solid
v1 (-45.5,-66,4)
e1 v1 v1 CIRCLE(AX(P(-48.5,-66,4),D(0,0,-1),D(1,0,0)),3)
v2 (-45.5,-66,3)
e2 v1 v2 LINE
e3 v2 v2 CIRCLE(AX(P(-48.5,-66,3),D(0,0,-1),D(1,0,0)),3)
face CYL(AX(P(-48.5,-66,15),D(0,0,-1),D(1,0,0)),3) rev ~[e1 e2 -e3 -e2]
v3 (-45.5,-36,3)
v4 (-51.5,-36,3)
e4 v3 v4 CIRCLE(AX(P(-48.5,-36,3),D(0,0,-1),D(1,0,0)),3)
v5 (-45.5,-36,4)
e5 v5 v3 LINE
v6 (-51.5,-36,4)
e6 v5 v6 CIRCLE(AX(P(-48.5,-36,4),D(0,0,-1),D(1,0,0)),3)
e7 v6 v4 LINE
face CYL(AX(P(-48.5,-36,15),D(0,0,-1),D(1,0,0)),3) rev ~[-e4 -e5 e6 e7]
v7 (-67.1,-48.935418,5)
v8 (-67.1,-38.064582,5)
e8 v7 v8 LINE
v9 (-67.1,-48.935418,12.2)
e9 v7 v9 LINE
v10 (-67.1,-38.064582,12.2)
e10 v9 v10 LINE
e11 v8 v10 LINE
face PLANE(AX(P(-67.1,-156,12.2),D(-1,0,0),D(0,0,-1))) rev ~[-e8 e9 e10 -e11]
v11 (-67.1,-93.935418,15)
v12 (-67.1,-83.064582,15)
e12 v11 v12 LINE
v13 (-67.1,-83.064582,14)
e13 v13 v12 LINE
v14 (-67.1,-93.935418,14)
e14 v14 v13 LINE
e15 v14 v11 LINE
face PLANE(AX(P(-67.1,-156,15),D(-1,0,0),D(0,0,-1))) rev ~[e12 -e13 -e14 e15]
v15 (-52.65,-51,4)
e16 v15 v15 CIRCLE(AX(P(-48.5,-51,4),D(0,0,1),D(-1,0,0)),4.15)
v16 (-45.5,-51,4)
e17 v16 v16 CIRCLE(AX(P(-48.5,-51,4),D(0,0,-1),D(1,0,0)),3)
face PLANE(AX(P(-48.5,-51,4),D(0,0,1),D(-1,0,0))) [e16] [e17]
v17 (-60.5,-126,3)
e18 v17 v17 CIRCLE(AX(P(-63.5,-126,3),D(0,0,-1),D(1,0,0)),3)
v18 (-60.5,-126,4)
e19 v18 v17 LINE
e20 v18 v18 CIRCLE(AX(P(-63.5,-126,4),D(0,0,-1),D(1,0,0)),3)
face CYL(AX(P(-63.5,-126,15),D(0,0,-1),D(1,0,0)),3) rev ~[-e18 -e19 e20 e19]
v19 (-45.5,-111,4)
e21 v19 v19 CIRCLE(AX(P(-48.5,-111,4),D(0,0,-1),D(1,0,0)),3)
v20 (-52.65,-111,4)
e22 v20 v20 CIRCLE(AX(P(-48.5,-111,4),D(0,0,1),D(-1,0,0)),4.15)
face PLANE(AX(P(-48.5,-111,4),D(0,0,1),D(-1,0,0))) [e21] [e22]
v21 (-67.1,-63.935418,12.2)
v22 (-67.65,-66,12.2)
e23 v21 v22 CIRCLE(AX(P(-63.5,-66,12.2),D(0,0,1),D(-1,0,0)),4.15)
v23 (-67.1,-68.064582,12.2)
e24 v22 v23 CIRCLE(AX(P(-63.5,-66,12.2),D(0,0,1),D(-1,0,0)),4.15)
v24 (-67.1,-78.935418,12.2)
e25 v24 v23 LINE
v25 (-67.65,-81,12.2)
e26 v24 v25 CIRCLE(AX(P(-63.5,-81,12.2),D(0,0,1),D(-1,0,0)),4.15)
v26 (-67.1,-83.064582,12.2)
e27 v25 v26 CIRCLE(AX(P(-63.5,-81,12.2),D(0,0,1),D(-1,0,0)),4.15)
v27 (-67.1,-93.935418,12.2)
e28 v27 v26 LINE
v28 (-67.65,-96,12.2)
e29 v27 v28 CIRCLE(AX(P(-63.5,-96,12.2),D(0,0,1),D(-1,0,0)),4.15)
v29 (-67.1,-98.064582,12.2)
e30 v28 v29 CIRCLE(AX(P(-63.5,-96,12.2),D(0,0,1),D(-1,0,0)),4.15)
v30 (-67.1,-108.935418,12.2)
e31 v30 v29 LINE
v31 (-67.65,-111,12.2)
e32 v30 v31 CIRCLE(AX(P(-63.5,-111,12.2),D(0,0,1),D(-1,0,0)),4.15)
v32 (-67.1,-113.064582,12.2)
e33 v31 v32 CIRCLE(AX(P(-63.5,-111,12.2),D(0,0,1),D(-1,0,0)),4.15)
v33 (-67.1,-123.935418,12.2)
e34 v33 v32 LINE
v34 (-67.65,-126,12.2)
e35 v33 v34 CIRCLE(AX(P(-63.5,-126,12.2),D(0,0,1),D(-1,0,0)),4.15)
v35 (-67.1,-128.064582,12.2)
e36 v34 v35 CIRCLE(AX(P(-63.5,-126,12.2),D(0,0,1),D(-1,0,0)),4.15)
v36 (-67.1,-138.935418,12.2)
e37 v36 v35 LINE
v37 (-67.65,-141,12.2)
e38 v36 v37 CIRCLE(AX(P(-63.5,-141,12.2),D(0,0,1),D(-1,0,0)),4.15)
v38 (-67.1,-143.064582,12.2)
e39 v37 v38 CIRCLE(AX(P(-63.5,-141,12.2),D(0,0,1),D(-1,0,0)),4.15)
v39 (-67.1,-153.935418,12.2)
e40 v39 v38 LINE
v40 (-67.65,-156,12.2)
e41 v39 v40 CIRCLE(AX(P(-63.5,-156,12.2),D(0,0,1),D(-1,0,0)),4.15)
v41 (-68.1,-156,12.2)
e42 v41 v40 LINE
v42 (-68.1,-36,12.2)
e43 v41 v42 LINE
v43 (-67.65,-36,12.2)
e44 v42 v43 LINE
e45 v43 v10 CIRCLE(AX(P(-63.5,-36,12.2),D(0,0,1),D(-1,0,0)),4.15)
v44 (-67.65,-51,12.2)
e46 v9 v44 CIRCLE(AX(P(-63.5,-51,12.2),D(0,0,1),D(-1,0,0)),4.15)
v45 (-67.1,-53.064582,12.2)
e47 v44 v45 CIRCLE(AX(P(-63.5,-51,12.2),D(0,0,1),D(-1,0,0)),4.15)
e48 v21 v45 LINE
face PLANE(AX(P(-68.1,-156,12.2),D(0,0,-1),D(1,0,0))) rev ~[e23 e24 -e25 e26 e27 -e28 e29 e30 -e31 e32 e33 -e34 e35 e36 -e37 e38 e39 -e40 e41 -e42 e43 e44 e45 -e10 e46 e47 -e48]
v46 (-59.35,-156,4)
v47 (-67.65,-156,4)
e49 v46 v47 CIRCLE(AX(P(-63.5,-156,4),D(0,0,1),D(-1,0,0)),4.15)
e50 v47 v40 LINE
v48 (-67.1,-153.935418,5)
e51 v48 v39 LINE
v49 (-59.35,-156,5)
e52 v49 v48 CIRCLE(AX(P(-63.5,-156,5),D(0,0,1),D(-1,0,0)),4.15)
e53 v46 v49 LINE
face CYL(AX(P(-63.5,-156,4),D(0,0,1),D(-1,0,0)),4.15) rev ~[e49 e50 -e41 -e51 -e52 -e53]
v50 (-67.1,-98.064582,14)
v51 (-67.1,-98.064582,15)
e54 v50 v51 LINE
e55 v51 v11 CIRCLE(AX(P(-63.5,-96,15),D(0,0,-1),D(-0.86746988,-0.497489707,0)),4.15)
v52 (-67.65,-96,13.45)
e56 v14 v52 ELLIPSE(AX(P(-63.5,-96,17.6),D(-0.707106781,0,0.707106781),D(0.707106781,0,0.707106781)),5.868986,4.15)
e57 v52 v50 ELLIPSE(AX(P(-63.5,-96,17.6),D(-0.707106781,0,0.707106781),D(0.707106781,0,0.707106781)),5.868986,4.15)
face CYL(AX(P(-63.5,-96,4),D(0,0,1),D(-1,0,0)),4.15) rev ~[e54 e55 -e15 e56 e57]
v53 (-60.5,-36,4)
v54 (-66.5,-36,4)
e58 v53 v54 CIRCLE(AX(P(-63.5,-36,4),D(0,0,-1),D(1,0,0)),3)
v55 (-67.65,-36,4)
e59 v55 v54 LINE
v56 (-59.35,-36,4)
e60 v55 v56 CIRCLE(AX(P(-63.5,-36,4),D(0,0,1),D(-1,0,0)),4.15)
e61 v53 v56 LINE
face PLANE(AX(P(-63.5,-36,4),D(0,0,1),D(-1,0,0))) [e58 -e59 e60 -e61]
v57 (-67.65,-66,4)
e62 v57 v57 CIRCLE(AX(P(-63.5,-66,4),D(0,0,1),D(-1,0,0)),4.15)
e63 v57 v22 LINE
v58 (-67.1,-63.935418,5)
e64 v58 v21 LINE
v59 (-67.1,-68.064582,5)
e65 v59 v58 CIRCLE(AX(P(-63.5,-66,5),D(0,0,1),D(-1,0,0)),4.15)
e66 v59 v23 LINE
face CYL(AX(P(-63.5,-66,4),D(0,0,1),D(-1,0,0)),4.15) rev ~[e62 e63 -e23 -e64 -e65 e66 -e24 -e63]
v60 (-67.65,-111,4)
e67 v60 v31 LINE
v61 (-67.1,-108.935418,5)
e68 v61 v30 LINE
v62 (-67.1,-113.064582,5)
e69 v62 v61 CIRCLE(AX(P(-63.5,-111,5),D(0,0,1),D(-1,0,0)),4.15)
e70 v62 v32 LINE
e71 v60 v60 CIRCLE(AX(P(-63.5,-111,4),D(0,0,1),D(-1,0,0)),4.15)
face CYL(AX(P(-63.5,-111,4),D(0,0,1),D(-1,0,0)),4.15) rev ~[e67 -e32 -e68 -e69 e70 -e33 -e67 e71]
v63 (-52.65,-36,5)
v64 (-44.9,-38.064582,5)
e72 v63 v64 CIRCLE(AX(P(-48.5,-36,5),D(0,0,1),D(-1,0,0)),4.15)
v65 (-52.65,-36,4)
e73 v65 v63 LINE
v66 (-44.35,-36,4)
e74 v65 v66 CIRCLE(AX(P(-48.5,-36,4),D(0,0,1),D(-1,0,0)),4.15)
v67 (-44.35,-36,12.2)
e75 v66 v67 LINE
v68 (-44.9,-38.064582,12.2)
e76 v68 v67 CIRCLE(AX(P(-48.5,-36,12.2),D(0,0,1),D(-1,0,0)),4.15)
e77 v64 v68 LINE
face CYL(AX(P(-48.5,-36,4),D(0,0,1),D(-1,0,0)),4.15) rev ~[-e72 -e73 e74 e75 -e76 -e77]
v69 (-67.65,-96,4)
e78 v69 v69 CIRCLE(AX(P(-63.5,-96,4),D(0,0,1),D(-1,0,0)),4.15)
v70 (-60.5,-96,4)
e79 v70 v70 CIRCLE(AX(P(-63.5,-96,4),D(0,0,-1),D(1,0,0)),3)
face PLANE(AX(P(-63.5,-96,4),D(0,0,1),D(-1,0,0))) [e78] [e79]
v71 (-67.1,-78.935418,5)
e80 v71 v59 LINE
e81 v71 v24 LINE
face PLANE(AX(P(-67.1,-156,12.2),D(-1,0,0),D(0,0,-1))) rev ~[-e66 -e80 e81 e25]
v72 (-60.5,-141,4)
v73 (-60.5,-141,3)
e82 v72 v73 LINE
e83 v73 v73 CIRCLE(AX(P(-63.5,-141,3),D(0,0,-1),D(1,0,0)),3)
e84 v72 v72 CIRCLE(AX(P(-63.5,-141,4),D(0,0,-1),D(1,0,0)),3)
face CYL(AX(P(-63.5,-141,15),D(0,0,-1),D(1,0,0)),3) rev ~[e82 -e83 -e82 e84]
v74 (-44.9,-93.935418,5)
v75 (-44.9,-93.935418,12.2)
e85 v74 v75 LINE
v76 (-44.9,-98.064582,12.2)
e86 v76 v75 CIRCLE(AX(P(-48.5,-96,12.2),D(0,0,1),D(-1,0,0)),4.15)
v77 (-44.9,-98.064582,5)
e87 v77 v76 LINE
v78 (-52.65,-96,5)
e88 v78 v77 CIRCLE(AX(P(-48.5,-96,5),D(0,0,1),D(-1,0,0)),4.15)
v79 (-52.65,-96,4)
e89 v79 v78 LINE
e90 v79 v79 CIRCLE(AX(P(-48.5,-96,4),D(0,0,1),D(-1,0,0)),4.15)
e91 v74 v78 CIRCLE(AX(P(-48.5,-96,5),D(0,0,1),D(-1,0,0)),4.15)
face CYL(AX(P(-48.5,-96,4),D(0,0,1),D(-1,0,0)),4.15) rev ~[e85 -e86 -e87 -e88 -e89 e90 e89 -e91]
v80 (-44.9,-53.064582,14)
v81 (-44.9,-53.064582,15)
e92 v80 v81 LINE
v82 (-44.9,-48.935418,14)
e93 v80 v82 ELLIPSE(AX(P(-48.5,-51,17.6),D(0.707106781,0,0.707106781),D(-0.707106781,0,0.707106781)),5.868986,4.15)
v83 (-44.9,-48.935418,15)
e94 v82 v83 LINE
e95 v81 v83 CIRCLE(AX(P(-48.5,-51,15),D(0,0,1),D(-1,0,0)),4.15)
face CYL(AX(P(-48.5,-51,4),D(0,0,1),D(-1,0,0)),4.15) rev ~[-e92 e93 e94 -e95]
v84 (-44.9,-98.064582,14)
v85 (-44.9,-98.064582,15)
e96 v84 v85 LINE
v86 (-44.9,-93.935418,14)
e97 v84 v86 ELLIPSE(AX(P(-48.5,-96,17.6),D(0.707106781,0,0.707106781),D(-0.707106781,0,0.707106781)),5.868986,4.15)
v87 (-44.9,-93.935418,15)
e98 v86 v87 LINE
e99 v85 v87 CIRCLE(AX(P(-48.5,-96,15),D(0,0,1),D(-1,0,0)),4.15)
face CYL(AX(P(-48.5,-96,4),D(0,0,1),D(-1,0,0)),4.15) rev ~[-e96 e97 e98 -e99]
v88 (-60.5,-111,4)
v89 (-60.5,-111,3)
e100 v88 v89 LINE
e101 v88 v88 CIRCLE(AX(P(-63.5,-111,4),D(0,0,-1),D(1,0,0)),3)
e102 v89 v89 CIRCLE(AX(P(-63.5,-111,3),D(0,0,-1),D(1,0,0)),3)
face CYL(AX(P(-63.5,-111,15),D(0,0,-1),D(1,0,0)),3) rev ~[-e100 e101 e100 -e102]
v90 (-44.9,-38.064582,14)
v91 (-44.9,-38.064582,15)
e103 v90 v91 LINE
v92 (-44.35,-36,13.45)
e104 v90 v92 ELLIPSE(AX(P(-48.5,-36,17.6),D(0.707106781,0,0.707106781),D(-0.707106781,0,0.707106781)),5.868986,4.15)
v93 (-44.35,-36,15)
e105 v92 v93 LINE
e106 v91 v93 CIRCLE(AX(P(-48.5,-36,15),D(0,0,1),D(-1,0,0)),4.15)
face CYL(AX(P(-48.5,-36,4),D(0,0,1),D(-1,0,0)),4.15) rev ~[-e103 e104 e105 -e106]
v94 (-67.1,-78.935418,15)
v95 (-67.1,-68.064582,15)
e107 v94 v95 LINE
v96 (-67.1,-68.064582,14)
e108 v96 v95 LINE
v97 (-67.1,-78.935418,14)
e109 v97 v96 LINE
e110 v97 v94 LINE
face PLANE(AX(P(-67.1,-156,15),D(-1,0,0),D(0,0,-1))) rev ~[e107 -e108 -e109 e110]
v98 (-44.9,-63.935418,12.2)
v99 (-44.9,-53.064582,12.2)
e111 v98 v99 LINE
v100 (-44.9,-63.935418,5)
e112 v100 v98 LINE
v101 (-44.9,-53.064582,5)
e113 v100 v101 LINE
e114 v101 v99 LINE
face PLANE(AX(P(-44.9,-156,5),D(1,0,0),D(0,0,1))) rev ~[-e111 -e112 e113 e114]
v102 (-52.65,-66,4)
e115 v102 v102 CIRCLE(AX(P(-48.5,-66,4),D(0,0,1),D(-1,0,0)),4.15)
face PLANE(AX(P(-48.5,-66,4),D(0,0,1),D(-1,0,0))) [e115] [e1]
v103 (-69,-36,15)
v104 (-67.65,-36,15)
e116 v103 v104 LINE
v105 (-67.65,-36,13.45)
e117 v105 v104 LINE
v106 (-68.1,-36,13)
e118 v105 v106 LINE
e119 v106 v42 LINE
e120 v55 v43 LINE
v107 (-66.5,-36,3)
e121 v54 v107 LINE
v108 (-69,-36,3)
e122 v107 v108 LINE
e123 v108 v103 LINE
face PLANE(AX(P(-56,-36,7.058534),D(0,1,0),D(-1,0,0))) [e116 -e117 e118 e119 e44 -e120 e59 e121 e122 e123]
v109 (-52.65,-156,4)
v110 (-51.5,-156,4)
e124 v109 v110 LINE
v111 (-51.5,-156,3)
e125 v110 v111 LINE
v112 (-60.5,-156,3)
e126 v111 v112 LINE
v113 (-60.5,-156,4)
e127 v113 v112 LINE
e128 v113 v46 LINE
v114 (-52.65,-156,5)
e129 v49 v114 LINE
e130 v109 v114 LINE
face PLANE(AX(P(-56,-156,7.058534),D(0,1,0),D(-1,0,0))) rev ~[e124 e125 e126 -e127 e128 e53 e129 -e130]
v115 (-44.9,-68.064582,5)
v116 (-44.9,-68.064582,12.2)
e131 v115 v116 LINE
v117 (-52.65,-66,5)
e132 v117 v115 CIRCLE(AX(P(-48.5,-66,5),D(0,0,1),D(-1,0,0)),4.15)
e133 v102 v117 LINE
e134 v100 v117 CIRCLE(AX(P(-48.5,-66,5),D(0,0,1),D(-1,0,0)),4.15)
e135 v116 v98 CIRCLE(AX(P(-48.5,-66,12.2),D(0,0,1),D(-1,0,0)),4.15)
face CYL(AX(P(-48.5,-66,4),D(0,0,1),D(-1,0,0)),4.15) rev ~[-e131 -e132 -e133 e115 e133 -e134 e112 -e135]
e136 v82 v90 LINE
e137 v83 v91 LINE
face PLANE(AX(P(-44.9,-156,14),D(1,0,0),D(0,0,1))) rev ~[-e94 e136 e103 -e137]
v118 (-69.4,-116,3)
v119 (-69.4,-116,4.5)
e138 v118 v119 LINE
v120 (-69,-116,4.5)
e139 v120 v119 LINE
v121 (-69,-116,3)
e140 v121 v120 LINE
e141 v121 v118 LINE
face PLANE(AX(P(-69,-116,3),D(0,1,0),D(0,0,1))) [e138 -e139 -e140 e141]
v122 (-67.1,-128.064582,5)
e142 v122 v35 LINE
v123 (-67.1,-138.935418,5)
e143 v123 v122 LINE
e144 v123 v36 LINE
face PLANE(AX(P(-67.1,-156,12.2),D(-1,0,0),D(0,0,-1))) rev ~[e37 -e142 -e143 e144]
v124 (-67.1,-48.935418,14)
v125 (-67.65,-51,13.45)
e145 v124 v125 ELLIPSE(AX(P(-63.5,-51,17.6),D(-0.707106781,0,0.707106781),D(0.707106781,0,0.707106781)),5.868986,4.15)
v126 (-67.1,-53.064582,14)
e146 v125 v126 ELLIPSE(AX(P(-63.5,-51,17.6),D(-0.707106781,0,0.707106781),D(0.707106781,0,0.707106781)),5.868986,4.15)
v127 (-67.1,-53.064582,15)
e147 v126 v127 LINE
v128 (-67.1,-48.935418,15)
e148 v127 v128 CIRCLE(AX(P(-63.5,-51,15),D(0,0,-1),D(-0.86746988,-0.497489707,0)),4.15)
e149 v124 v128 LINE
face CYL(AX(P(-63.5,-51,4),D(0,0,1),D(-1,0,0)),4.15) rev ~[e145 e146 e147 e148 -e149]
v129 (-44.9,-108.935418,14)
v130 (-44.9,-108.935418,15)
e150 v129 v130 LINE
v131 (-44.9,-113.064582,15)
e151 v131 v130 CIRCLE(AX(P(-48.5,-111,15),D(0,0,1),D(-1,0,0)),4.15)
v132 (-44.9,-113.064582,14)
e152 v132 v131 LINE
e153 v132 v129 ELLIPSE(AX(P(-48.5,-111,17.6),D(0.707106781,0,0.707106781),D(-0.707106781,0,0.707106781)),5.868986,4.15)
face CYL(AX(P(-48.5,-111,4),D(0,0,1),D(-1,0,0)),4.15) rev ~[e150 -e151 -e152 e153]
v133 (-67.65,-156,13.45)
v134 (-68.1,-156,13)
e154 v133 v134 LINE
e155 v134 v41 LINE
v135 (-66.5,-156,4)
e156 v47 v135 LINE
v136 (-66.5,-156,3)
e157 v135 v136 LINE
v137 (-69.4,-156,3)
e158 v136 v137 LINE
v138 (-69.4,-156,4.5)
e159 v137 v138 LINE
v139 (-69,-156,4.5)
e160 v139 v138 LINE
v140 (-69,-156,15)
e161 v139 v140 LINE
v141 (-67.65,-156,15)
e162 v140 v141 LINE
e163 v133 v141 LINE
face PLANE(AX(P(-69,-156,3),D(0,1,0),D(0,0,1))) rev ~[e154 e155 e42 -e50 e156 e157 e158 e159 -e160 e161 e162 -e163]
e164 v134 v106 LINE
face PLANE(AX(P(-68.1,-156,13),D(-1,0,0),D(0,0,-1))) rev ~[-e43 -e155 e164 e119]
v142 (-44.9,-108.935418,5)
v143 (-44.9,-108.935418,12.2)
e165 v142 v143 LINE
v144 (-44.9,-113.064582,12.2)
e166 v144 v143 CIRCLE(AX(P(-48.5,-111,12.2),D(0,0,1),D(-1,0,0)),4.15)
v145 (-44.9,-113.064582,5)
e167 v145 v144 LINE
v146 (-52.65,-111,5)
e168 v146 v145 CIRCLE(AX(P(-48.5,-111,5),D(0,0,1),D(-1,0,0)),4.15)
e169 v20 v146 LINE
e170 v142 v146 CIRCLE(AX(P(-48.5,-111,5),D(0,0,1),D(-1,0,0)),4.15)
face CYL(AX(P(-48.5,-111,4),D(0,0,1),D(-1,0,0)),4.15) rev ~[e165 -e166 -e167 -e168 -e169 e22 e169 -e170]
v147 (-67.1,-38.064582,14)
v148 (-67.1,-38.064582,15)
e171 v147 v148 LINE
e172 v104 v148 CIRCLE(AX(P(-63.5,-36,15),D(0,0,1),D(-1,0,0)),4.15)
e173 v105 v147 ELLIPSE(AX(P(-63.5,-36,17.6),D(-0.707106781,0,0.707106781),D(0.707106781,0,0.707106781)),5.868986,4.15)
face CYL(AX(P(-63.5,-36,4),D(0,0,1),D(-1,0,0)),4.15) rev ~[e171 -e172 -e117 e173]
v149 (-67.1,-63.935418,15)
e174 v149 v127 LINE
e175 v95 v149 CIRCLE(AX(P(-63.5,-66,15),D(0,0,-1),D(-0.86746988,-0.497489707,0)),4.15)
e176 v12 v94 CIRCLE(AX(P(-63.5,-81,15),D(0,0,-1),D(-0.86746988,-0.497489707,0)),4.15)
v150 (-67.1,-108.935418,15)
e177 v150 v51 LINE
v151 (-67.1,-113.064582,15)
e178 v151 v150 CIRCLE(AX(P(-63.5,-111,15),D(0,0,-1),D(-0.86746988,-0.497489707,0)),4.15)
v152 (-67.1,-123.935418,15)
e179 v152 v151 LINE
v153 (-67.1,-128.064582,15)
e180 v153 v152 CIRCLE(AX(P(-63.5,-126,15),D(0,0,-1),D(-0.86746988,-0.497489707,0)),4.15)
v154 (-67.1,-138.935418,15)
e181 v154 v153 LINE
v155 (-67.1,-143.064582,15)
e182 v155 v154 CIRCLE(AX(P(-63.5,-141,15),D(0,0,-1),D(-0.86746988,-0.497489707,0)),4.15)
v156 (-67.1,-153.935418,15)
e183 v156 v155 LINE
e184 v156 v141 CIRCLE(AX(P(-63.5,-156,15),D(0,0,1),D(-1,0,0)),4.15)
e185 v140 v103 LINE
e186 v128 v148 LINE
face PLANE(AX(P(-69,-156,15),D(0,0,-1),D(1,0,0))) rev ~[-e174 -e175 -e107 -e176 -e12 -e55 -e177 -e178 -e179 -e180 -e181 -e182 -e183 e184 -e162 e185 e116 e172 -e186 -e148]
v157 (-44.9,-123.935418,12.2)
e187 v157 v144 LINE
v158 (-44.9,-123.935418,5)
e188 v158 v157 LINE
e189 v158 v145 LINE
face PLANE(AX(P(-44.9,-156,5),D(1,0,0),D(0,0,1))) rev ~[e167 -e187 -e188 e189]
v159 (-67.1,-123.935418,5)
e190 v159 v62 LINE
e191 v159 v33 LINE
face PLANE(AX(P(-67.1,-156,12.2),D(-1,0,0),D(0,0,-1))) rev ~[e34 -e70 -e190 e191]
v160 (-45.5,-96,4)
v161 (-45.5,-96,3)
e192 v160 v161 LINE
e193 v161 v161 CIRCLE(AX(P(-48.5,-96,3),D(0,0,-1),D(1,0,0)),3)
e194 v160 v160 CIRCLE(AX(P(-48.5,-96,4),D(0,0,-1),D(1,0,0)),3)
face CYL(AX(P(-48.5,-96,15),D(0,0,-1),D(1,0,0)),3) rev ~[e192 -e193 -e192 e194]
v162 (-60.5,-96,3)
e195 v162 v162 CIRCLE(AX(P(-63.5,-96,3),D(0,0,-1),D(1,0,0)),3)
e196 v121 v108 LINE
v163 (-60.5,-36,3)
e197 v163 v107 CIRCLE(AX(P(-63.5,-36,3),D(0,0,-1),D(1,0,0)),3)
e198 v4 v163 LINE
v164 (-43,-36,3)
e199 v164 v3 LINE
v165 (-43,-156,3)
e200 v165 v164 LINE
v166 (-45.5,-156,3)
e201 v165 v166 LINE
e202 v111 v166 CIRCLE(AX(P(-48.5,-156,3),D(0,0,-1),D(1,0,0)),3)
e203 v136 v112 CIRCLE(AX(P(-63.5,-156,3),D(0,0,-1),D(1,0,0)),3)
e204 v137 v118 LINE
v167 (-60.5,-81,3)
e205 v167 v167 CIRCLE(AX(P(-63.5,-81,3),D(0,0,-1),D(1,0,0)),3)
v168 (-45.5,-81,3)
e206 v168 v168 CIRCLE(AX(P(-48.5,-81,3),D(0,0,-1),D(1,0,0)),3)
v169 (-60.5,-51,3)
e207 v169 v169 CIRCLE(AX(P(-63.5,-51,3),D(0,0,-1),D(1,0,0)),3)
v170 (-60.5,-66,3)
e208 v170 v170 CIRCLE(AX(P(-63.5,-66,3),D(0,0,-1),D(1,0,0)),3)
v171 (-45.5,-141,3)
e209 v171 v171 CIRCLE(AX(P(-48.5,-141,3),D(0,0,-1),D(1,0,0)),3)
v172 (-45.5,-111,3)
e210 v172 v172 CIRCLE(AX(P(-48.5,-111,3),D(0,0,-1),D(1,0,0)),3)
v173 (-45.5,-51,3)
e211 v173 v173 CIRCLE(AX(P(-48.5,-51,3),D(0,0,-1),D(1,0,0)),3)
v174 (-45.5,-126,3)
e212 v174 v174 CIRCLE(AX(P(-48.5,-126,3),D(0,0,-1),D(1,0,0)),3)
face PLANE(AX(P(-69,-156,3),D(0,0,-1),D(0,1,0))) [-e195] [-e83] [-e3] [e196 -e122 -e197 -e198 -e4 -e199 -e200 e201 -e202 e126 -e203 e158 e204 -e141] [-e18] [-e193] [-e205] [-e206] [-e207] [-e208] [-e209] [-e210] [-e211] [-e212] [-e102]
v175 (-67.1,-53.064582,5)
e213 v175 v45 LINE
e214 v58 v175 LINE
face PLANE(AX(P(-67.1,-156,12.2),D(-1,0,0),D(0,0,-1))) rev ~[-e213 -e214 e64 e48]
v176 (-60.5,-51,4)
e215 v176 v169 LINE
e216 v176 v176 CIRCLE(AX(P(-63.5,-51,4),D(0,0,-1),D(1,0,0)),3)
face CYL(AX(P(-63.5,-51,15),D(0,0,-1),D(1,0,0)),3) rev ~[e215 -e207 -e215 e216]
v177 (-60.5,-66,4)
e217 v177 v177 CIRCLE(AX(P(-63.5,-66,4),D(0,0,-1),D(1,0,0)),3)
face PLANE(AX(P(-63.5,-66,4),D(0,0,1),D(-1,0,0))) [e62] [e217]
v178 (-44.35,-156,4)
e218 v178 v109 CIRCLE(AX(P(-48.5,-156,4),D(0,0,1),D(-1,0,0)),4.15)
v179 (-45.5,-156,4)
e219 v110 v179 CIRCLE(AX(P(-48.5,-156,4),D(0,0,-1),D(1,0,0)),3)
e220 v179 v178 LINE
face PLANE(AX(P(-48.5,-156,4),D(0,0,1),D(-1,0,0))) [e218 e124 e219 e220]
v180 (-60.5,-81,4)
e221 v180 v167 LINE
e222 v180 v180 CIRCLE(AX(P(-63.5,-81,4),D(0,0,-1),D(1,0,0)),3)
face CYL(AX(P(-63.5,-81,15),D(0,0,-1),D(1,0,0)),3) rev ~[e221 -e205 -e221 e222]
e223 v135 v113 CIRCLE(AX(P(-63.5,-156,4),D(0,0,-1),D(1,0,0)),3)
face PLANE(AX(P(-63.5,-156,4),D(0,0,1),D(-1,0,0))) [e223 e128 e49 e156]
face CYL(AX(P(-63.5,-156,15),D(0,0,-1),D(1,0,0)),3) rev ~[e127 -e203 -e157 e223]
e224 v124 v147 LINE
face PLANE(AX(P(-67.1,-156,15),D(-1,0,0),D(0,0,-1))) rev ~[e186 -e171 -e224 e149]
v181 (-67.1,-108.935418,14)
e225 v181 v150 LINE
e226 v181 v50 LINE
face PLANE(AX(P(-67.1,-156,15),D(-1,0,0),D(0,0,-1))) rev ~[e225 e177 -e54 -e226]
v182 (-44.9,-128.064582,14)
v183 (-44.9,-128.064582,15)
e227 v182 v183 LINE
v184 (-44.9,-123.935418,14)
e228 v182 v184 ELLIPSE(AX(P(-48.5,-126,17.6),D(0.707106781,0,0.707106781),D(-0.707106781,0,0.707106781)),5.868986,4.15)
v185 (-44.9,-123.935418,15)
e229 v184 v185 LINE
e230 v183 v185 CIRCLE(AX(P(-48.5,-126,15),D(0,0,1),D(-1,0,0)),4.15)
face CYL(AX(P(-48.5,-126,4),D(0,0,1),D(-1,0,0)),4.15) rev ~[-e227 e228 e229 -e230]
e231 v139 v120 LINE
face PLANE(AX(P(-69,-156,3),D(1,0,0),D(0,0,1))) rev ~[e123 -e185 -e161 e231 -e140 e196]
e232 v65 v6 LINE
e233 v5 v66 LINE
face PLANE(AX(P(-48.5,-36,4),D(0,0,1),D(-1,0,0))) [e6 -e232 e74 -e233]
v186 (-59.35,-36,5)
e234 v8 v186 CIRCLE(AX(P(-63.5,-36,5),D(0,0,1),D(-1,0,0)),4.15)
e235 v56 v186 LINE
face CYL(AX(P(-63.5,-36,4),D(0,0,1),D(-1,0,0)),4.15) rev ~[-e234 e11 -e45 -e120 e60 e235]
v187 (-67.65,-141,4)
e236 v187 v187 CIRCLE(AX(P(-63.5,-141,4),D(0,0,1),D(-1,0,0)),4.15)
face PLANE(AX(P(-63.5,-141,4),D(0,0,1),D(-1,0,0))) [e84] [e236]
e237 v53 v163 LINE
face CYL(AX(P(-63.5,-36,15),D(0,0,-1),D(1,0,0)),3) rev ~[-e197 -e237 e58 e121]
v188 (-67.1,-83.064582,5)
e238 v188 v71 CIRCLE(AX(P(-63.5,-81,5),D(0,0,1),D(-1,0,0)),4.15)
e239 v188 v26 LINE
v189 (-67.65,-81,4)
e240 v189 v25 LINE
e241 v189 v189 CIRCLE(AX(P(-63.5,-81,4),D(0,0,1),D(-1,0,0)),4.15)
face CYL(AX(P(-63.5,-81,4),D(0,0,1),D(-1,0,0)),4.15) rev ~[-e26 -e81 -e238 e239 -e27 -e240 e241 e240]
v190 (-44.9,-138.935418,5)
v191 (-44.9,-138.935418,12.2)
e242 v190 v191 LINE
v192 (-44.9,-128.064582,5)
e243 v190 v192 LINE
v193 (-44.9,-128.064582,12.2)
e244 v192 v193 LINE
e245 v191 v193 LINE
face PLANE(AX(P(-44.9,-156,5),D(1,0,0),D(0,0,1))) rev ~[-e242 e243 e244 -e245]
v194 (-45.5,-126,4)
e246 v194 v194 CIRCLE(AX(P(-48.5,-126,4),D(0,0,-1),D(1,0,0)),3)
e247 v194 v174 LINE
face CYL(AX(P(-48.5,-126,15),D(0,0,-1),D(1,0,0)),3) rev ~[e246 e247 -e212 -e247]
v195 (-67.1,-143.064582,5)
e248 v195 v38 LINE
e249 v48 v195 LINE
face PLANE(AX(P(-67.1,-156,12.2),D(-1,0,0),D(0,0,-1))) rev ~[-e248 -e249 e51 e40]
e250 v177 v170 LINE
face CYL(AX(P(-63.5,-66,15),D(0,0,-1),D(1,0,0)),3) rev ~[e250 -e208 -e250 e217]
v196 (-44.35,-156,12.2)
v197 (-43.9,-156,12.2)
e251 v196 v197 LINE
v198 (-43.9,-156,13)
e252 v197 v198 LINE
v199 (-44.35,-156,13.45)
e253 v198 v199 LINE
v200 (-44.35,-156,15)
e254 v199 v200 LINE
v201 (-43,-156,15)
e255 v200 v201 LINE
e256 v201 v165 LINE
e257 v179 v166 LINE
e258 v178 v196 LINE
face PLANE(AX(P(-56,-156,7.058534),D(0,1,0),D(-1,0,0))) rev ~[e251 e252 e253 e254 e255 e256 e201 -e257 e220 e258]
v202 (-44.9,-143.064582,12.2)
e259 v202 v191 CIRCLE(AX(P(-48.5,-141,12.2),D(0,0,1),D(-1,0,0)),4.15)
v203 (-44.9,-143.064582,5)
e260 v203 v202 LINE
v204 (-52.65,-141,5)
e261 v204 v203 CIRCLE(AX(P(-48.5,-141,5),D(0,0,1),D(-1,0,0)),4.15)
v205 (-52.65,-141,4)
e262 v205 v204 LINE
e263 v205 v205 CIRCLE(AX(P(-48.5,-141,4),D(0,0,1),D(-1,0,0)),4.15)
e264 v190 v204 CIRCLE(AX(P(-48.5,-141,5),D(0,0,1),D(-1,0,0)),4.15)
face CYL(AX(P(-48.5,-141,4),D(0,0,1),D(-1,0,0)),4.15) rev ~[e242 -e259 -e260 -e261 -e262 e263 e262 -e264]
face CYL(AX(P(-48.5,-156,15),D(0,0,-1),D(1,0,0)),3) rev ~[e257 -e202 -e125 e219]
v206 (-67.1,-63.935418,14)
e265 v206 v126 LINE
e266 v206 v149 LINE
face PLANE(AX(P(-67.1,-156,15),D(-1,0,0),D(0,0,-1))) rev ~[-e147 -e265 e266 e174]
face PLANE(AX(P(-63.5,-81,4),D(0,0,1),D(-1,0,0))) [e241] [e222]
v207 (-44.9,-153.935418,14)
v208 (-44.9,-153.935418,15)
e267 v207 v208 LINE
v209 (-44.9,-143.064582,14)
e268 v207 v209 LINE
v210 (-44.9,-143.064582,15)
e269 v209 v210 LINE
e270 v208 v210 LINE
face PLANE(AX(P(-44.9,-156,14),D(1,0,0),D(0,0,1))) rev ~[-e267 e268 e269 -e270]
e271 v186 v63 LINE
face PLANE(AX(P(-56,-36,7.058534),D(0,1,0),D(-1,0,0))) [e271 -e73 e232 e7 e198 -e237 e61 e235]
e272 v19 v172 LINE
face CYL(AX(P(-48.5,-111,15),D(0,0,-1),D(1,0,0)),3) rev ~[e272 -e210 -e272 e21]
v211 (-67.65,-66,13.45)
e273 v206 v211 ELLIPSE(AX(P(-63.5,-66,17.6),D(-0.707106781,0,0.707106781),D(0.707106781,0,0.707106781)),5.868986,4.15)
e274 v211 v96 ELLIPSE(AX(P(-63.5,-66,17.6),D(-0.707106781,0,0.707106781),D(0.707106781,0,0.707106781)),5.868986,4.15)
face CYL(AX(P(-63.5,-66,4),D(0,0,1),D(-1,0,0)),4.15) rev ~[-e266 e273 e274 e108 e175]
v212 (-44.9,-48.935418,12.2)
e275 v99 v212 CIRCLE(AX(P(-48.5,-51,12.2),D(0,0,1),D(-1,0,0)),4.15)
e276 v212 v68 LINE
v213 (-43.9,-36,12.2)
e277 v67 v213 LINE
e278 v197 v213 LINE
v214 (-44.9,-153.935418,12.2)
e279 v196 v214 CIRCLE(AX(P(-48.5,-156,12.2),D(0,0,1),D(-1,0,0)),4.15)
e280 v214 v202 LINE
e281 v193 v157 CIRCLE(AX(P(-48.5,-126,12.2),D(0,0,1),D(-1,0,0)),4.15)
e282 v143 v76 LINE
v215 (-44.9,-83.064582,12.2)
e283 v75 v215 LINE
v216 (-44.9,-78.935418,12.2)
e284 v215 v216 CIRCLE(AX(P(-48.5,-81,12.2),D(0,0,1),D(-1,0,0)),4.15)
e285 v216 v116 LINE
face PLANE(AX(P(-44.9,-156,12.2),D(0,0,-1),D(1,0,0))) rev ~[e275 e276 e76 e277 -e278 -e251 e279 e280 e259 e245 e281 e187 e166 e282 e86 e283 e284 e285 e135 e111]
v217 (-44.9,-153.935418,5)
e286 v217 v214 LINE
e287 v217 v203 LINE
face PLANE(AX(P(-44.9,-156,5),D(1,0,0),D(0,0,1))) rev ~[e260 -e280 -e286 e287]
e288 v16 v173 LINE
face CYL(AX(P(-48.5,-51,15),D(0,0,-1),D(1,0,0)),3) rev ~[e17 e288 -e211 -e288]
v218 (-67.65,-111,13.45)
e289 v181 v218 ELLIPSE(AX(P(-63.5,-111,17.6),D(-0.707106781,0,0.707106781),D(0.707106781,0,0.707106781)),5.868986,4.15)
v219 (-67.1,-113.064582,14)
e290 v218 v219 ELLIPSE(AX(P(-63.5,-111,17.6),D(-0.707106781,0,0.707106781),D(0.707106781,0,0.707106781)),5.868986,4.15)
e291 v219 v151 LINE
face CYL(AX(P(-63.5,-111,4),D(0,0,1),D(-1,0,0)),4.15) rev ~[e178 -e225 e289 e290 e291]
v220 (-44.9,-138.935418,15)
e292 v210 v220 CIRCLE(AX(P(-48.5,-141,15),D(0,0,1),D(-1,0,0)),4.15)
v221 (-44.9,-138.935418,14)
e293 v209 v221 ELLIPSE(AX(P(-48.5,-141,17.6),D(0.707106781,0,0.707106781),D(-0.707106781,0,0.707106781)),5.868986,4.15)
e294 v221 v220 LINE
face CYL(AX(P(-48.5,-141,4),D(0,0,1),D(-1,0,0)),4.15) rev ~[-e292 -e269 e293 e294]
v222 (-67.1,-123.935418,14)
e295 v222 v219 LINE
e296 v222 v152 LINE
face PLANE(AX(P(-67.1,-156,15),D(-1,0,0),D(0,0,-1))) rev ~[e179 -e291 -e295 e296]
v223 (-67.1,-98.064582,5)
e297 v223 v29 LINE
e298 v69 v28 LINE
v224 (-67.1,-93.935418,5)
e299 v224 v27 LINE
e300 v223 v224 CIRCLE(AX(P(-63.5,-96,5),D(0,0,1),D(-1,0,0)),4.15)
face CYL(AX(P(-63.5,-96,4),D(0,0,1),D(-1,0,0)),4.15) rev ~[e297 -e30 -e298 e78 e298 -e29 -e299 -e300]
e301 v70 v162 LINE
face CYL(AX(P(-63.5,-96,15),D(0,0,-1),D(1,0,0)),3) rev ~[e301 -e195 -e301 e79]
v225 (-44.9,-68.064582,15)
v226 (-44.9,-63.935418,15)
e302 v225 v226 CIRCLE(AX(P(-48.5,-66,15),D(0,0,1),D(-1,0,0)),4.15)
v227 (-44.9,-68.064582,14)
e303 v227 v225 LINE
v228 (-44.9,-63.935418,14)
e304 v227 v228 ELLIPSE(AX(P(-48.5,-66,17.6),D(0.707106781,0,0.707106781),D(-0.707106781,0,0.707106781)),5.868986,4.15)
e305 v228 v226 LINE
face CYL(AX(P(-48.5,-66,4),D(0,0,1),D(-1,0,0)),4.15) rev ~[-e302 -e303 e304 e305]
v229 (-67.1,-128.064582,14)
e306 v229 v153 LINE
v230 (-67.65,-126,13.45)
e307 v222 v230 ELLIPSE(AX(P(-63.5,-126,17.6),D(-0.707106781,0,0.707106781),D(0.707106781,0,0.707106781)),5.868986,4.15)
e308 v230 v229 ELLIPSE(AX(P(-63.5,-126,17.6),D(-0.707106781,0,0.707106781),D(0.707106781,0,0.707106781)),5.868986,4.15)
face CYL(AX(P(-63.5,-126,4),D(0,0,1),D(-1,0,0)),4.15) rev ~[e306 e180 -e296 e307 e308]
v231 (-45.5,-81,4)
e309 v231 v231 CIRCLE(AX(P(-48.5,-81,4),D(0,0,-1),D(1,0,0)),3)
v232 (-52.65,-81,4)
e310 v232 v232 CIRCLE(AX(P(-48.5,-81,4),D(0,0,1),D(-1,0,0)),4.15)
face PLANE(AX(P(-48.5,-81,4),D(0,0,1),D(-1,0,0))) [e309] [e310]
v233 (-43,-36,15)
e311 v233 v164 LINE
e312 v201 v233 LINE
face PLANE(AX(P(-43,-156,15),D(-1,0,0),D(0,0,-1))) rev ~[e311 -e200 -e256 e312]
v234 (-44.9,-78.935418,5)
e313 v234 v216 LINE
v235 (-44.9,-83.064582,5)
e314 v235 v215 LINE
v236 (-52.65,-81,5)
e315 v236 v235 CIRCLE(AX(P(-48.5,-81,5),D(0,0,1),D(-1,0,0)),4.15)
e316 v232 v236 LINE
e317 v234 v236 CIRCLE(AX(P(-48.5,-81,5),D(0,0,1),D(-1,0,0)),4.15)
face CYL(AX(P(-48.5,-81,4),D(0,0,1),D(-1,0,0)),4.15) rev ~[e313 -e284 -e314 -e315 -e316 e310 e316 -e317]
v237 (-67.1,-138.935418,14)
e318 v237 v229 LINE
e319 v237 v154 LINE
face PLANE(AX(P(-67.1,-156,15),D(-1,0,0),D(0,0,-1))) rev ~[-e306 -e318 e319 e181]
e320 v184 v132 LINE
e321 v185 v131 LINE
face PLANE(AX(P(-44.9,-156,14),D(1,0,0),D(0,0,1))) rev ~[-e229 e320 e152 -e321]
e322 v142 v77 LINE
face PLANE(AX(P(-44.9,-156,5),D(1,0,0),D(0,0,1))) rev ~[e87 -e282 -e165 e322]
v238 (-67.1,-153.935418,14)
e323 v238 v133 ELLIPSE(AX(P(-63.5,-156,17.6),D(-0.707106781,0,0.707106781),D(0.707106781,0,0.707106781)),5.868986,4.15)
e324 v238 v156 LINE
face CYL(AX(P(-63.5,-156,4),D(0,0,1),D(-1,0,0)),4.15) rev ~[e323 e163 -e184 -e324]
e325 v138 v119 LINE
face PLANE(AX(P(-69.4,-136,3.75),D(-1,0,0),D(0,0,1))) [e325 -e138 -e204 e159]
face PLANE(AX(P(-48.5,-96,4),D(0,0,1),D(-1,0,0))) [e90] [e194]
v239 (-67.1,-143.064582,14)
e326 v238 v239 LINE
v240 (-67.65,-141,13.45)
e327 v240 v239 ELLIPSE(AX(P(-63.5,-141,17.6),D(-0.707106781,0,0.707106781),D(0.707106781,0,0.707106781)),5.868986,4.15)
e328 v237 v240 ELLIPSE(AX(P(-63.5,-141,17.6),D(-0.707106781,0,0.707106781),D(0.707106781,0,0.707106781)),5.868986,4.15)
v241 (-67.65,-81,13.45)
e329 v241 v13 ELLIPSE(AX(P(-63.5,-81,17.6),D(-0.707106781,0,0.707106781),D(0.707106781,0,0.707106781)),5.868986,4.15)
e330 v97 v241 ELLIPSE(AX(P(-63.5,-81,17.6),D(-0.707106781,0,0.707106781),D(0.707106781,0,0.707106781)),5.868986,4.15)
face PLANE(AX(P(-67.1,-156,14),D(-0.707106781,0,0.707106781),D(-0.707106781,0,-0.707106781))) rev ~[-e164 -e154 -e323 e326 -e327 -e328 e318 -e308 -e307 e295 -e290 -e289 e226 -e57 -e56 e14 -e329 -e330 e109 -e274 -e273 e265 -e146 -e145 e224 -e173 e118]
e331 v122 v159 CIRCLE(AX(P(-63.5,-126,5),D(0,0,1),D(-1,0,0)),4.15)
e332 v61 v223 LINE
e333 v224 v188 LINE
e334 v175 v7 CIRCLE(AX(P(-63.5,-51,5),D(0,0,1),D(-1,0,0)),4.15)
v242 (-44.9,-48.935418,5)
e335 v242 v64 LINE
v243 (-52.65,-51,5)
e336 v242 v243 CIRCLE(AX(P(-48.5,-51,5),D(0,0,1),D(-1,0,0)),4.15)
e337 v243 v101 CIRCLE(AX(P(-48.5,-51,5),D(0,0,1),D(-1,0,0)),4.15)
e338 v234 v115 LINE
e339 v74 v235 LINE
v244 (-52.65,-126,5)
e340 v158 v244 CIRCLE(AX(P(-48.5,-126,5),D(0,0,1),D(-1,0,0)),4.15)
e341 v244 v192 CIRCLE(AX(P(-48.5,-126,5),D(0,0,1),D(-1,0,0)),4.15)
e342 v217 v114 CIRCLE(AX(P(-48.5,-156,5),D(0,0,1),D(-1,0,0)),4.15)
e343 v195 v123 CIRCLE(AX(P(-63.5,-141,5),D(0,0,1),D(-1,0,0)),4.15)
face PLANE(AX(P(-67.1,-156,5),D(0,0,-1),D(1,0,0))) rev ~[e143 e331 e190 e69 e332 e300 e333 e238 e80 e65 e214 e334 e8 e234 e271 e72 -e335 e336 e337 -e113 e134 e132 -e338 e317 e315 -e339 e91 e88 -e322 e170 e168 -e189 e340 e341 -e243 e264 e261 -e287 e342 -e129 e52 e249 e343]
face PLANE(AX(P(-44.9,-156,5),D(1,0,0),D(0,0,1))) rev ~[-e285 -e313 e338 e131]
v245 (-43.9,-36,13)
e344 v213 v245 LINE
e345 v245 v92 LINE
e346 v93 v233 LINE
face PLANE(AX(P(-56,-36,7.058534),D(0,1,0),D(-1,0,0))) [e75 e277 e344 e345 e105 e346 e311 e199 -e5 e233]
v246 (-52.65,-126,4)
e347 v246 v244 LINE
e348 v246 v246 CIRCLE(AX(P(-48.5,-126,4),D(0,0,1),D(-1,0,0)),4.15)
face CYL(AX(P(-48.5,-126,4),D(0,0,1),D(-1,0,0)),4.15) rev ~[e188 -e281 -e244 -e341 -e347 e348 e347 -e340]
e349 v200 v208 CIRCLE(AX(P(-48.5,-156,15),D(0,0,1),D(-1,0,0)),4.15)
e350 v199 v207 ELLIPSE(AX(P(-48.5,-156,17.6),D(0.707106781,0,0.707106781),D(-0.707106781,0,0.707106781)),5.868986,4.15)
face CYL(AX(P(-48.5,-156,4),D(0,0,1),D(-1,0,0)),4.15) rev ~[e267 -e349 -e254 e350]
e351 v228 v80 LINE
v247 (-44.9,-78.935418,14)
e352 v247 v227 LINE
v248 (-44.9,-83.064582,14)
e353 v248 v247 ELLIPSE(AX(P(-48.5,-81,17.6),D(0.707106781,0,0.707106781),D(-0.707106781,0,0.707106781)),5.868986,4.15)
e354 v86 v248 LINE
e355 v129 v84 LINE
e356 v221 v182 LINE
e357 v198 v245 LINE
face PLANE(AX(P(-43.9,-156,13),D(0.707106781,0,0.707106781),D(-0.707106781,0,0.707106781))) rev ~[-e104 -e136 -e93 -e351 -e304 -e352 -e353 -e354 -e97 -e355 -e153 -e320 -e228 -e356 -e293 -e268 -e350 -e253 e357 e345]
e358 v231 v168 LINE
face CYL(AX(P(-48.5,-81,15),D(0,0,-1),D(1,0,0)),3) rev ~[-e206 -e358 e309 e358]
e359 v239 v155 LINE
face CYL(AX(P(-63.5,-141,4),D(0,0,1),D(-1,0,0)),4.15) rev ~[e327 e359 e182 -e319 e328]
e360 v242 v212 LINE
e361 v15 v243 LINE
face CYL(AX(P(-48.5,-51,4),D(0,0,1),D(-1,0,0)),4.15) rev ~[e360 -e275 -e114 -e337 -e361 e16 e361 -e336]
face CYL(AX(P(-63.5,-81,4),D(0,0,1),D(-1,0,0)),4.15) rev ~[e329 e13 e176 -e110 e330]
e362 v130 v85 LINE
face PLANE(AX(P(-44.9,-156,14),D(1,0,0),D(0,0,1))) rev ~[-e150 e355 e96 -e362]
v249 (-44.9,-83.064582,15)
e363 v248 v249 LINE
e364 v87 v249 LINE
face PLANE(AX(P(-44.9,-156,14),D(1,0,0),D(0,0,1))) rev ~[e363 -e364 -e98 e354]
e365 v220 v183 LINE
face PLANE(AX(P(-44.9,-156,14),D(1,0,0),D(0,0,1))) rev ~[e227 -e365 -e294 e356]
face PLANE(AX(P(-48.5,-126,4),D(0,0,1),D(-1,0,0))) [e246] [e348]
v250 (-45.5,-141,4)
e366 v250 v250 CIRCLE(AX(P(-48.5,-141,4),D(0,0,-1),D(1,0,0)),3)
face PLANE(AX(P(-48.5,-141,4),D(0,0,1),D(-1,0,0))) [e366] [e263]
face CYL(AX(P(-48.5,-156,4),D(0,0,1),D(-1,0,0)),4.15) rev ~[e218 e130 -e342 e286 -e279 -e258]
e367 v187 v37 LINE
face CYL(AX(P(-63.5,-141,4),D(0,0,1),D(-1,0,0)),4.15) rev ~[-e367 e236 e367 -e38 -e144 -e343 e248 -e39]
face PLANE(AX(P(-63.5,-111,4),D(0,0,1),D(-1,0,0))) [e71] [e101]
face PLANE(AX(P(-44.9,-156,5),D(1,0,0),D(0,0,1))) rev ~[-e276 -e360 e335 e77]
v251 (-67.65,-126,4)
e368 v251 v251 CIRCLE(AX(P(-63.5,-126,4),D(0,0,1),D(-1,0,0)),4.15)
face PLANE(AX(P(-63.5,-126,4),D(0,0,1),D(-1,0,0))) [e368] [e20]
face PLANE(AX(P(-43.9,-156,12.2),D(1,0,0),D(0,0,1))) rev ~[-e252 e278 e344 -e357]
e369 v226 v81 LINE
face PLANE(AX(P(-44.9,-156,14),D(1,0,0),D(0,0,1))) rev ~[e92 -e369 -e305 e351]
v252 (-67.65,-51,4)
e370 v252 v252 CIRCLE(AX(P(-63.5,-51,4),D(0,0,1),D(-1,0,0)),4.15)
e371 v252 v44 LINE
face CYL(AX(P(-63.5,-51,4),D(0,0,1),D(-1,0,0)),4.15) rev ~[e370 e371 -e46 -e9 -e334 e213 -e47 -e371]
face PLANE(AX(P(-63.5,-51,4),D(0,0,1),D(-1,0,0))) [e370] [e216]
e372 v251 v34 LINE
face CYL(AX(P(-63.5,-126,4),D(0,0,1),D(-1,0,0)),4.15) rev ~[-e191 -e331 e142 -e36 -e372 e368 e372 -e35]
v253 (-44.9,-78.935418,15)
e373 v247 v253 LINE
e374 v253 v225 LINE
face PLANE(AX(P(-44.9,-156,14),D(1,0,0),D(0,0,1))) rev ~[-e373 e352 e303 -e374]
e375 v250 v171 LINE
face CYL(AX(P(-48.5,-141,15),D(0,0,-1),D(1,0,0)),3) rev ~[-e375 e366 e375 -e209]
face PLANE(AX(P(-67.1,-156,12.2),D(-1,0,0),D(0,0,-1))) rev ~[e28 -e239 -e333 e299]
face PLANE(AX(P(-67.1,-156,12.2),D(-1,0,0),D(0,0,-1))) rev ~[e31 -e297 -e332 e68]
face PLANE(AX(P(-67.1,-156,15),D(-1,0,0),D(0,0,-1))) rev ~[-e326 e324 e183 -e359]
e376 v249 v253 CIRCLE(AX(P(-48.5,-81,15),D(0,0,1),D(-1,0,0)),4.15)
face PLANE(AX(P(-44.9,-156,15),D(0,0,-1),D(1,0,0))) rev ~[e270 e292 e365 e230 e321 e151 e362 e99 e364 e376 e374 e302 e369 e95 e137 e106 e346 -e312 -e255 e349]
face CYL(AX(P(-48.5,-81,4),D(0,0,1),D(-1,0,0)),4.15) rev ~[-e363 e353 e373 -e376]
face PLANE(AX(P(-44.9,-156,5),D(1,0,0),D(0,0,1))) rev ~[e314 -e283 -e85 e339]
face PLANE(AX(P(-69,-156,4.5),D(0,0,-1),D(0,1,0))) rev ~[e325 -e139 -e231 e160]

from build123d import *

# Parameters (mm, degrees)
PAD006_DEPTH            = 120
HOLE_D                  = 6
HOLE_DEPTH              = 25
HOLE_CBORE_D            = 8.3
HOLE_CBORE_DEPTH        = 11
SKETCH_W                = 1.5
SKETCH_H                = 40
PAD_DEPTH               = 0.4
BODY003_PLACEMENT_ANGLE = 180


with BuildPart() as part:
    # Sketch019 → Pad006 (new body)
    with BuildSketch(Plane(origin=(7.5, 0, 0), x_dir=(1, 0, 0), z_dir=(0, -1, 0))):
        Polygon((13, -6), (13, 6), (11.1, 6), (11.1, 5), (12.1, 4), (12.1, 3.2), (11.1, 3.2), (11.1, -4), (-11.1, -4), (-11.1, 3.2), (-12.1, 3.2), (-12.1, 4), (-11.1, 5), (-11.1, 6), (-13, 6), (-13, -6), align=None)
    extrude(amount=PAD006_DEPTH)

    # Hole
    with Locations(Plane(origin=(-15, -200.5, 6), x_dir=(1, 0, 0), z_dir=(0, 0, 1))):
        with Locations((15, 35.5), (45, 35.5), (75, 35.5), (15, 65.5), (45, 65.5), (75, 65.5), (30, 20.5), (60, 20.5), (60, 50.5), (30, 50.5), (90, 50.5), (105, 65.5), (90, 20.5), (105, 35.5), (30, 80.5), (60, 80.5), (90, 80.5), (15, 95.5), (45, 95.5), (75, 95.5), (105, 95.5), (30, 110.5), (60, 110.5), (90, 110.5), (15, 125.5), (45, 125.5), (75, 125.5), (105, 125.5), (15, 155.5), (45, 155.5), (75, 155.5), (60, 140.5), (30, 140.5), (90, 140.5), (105, 155.5), (30, 170.5), (60, 170.5), (90, 170.5), (15, 185.5), (45, 185.5), (75, 185.5), (105, 185.5), (30, 200.5), (60, 200.5), (90, 200.5), (15, 215.5), (45, 215.5), (75, 215.5), (105, 215.5), (120, 50.5), (120, 20.5), (120, 80.5), (120, 110.5), (120, 140.5), (120, 170.5), (120, 200.5), (0, 50.5), (0, 20.5), (0, 80.5), (0, 110.5), (0, 140.5), (0, 170.5), (0, 200.5), (15, 20.5), (45, 20.5), (75, 20.5), (15, 50.5), (45, 50.5), (75, 50.5), (30, 5.5), (60, 5.5), (60, 35.5), (30, 35.5), (90, 35.5), (105, 50.5), (90, 5.5), (105, 20.5), (30, 65.5), (60, 65.5), (90, 65.5), (15, 80.5), (45, 80.5), (75, 80.5), (105, 80.5), (30, 95.5), (60, 95.5), (90, 95.5), (15, 110.5), (45, 110.5), (75, 110.5), (105, 110.5), (15, 140.5), (45, 140.5), (75, 140.5), (60, 125.5), (30, 125.5), (90, 125.5), (105, 140.5), (30, 155.5), (60, 155.5), (90, 155.5), (15, 170.5), (45, 170.5), (75, 170.5), (105, 170.5), (30, 185.5), (60, 185.5), (90, 185.5), (15, 200.5), (45, 200.5), (75, 200.5), (105, 200.5), (120, 35.5), (120, 5.5), (120, 65.5), (120, 95.5), (120, 125.5), (120, 155.5), (120, 185.5), (0, 35.5), (0, 5.5), (0, 65.5), (0, 95.5), (0, 125.5), (0, 155.5), (0, 185.5)):
            CounterBoreHole(HOLE_D / 2, HOLE_CBORE_D / 2, HOLE_CBORE_DEPTH, depth=HOLE_DEPTH)

    # Sketch (on Face35 of Hole) → Pad (join)
    with BuildSketch(Plane(origin=(20.5, 0, 0), x_dir=(0, 0, 1), z_dir=(1, 0, 0))):
        with Locations((-5.25, 20)):
            Rectangle(SKETCH_W, SKETCH_H)
    extrude(amount=PAD_DEPTH)


with BuildPart() as part_1:
    # Body003 placement: moved
    add(part.part.moved(Location((-48.5, -156, 9))).rotate(Axis((-48.5, -156, 9), (0, 0, 1)), BODY003_PLACEMENT_ANGLE))


solid = part_1.part
